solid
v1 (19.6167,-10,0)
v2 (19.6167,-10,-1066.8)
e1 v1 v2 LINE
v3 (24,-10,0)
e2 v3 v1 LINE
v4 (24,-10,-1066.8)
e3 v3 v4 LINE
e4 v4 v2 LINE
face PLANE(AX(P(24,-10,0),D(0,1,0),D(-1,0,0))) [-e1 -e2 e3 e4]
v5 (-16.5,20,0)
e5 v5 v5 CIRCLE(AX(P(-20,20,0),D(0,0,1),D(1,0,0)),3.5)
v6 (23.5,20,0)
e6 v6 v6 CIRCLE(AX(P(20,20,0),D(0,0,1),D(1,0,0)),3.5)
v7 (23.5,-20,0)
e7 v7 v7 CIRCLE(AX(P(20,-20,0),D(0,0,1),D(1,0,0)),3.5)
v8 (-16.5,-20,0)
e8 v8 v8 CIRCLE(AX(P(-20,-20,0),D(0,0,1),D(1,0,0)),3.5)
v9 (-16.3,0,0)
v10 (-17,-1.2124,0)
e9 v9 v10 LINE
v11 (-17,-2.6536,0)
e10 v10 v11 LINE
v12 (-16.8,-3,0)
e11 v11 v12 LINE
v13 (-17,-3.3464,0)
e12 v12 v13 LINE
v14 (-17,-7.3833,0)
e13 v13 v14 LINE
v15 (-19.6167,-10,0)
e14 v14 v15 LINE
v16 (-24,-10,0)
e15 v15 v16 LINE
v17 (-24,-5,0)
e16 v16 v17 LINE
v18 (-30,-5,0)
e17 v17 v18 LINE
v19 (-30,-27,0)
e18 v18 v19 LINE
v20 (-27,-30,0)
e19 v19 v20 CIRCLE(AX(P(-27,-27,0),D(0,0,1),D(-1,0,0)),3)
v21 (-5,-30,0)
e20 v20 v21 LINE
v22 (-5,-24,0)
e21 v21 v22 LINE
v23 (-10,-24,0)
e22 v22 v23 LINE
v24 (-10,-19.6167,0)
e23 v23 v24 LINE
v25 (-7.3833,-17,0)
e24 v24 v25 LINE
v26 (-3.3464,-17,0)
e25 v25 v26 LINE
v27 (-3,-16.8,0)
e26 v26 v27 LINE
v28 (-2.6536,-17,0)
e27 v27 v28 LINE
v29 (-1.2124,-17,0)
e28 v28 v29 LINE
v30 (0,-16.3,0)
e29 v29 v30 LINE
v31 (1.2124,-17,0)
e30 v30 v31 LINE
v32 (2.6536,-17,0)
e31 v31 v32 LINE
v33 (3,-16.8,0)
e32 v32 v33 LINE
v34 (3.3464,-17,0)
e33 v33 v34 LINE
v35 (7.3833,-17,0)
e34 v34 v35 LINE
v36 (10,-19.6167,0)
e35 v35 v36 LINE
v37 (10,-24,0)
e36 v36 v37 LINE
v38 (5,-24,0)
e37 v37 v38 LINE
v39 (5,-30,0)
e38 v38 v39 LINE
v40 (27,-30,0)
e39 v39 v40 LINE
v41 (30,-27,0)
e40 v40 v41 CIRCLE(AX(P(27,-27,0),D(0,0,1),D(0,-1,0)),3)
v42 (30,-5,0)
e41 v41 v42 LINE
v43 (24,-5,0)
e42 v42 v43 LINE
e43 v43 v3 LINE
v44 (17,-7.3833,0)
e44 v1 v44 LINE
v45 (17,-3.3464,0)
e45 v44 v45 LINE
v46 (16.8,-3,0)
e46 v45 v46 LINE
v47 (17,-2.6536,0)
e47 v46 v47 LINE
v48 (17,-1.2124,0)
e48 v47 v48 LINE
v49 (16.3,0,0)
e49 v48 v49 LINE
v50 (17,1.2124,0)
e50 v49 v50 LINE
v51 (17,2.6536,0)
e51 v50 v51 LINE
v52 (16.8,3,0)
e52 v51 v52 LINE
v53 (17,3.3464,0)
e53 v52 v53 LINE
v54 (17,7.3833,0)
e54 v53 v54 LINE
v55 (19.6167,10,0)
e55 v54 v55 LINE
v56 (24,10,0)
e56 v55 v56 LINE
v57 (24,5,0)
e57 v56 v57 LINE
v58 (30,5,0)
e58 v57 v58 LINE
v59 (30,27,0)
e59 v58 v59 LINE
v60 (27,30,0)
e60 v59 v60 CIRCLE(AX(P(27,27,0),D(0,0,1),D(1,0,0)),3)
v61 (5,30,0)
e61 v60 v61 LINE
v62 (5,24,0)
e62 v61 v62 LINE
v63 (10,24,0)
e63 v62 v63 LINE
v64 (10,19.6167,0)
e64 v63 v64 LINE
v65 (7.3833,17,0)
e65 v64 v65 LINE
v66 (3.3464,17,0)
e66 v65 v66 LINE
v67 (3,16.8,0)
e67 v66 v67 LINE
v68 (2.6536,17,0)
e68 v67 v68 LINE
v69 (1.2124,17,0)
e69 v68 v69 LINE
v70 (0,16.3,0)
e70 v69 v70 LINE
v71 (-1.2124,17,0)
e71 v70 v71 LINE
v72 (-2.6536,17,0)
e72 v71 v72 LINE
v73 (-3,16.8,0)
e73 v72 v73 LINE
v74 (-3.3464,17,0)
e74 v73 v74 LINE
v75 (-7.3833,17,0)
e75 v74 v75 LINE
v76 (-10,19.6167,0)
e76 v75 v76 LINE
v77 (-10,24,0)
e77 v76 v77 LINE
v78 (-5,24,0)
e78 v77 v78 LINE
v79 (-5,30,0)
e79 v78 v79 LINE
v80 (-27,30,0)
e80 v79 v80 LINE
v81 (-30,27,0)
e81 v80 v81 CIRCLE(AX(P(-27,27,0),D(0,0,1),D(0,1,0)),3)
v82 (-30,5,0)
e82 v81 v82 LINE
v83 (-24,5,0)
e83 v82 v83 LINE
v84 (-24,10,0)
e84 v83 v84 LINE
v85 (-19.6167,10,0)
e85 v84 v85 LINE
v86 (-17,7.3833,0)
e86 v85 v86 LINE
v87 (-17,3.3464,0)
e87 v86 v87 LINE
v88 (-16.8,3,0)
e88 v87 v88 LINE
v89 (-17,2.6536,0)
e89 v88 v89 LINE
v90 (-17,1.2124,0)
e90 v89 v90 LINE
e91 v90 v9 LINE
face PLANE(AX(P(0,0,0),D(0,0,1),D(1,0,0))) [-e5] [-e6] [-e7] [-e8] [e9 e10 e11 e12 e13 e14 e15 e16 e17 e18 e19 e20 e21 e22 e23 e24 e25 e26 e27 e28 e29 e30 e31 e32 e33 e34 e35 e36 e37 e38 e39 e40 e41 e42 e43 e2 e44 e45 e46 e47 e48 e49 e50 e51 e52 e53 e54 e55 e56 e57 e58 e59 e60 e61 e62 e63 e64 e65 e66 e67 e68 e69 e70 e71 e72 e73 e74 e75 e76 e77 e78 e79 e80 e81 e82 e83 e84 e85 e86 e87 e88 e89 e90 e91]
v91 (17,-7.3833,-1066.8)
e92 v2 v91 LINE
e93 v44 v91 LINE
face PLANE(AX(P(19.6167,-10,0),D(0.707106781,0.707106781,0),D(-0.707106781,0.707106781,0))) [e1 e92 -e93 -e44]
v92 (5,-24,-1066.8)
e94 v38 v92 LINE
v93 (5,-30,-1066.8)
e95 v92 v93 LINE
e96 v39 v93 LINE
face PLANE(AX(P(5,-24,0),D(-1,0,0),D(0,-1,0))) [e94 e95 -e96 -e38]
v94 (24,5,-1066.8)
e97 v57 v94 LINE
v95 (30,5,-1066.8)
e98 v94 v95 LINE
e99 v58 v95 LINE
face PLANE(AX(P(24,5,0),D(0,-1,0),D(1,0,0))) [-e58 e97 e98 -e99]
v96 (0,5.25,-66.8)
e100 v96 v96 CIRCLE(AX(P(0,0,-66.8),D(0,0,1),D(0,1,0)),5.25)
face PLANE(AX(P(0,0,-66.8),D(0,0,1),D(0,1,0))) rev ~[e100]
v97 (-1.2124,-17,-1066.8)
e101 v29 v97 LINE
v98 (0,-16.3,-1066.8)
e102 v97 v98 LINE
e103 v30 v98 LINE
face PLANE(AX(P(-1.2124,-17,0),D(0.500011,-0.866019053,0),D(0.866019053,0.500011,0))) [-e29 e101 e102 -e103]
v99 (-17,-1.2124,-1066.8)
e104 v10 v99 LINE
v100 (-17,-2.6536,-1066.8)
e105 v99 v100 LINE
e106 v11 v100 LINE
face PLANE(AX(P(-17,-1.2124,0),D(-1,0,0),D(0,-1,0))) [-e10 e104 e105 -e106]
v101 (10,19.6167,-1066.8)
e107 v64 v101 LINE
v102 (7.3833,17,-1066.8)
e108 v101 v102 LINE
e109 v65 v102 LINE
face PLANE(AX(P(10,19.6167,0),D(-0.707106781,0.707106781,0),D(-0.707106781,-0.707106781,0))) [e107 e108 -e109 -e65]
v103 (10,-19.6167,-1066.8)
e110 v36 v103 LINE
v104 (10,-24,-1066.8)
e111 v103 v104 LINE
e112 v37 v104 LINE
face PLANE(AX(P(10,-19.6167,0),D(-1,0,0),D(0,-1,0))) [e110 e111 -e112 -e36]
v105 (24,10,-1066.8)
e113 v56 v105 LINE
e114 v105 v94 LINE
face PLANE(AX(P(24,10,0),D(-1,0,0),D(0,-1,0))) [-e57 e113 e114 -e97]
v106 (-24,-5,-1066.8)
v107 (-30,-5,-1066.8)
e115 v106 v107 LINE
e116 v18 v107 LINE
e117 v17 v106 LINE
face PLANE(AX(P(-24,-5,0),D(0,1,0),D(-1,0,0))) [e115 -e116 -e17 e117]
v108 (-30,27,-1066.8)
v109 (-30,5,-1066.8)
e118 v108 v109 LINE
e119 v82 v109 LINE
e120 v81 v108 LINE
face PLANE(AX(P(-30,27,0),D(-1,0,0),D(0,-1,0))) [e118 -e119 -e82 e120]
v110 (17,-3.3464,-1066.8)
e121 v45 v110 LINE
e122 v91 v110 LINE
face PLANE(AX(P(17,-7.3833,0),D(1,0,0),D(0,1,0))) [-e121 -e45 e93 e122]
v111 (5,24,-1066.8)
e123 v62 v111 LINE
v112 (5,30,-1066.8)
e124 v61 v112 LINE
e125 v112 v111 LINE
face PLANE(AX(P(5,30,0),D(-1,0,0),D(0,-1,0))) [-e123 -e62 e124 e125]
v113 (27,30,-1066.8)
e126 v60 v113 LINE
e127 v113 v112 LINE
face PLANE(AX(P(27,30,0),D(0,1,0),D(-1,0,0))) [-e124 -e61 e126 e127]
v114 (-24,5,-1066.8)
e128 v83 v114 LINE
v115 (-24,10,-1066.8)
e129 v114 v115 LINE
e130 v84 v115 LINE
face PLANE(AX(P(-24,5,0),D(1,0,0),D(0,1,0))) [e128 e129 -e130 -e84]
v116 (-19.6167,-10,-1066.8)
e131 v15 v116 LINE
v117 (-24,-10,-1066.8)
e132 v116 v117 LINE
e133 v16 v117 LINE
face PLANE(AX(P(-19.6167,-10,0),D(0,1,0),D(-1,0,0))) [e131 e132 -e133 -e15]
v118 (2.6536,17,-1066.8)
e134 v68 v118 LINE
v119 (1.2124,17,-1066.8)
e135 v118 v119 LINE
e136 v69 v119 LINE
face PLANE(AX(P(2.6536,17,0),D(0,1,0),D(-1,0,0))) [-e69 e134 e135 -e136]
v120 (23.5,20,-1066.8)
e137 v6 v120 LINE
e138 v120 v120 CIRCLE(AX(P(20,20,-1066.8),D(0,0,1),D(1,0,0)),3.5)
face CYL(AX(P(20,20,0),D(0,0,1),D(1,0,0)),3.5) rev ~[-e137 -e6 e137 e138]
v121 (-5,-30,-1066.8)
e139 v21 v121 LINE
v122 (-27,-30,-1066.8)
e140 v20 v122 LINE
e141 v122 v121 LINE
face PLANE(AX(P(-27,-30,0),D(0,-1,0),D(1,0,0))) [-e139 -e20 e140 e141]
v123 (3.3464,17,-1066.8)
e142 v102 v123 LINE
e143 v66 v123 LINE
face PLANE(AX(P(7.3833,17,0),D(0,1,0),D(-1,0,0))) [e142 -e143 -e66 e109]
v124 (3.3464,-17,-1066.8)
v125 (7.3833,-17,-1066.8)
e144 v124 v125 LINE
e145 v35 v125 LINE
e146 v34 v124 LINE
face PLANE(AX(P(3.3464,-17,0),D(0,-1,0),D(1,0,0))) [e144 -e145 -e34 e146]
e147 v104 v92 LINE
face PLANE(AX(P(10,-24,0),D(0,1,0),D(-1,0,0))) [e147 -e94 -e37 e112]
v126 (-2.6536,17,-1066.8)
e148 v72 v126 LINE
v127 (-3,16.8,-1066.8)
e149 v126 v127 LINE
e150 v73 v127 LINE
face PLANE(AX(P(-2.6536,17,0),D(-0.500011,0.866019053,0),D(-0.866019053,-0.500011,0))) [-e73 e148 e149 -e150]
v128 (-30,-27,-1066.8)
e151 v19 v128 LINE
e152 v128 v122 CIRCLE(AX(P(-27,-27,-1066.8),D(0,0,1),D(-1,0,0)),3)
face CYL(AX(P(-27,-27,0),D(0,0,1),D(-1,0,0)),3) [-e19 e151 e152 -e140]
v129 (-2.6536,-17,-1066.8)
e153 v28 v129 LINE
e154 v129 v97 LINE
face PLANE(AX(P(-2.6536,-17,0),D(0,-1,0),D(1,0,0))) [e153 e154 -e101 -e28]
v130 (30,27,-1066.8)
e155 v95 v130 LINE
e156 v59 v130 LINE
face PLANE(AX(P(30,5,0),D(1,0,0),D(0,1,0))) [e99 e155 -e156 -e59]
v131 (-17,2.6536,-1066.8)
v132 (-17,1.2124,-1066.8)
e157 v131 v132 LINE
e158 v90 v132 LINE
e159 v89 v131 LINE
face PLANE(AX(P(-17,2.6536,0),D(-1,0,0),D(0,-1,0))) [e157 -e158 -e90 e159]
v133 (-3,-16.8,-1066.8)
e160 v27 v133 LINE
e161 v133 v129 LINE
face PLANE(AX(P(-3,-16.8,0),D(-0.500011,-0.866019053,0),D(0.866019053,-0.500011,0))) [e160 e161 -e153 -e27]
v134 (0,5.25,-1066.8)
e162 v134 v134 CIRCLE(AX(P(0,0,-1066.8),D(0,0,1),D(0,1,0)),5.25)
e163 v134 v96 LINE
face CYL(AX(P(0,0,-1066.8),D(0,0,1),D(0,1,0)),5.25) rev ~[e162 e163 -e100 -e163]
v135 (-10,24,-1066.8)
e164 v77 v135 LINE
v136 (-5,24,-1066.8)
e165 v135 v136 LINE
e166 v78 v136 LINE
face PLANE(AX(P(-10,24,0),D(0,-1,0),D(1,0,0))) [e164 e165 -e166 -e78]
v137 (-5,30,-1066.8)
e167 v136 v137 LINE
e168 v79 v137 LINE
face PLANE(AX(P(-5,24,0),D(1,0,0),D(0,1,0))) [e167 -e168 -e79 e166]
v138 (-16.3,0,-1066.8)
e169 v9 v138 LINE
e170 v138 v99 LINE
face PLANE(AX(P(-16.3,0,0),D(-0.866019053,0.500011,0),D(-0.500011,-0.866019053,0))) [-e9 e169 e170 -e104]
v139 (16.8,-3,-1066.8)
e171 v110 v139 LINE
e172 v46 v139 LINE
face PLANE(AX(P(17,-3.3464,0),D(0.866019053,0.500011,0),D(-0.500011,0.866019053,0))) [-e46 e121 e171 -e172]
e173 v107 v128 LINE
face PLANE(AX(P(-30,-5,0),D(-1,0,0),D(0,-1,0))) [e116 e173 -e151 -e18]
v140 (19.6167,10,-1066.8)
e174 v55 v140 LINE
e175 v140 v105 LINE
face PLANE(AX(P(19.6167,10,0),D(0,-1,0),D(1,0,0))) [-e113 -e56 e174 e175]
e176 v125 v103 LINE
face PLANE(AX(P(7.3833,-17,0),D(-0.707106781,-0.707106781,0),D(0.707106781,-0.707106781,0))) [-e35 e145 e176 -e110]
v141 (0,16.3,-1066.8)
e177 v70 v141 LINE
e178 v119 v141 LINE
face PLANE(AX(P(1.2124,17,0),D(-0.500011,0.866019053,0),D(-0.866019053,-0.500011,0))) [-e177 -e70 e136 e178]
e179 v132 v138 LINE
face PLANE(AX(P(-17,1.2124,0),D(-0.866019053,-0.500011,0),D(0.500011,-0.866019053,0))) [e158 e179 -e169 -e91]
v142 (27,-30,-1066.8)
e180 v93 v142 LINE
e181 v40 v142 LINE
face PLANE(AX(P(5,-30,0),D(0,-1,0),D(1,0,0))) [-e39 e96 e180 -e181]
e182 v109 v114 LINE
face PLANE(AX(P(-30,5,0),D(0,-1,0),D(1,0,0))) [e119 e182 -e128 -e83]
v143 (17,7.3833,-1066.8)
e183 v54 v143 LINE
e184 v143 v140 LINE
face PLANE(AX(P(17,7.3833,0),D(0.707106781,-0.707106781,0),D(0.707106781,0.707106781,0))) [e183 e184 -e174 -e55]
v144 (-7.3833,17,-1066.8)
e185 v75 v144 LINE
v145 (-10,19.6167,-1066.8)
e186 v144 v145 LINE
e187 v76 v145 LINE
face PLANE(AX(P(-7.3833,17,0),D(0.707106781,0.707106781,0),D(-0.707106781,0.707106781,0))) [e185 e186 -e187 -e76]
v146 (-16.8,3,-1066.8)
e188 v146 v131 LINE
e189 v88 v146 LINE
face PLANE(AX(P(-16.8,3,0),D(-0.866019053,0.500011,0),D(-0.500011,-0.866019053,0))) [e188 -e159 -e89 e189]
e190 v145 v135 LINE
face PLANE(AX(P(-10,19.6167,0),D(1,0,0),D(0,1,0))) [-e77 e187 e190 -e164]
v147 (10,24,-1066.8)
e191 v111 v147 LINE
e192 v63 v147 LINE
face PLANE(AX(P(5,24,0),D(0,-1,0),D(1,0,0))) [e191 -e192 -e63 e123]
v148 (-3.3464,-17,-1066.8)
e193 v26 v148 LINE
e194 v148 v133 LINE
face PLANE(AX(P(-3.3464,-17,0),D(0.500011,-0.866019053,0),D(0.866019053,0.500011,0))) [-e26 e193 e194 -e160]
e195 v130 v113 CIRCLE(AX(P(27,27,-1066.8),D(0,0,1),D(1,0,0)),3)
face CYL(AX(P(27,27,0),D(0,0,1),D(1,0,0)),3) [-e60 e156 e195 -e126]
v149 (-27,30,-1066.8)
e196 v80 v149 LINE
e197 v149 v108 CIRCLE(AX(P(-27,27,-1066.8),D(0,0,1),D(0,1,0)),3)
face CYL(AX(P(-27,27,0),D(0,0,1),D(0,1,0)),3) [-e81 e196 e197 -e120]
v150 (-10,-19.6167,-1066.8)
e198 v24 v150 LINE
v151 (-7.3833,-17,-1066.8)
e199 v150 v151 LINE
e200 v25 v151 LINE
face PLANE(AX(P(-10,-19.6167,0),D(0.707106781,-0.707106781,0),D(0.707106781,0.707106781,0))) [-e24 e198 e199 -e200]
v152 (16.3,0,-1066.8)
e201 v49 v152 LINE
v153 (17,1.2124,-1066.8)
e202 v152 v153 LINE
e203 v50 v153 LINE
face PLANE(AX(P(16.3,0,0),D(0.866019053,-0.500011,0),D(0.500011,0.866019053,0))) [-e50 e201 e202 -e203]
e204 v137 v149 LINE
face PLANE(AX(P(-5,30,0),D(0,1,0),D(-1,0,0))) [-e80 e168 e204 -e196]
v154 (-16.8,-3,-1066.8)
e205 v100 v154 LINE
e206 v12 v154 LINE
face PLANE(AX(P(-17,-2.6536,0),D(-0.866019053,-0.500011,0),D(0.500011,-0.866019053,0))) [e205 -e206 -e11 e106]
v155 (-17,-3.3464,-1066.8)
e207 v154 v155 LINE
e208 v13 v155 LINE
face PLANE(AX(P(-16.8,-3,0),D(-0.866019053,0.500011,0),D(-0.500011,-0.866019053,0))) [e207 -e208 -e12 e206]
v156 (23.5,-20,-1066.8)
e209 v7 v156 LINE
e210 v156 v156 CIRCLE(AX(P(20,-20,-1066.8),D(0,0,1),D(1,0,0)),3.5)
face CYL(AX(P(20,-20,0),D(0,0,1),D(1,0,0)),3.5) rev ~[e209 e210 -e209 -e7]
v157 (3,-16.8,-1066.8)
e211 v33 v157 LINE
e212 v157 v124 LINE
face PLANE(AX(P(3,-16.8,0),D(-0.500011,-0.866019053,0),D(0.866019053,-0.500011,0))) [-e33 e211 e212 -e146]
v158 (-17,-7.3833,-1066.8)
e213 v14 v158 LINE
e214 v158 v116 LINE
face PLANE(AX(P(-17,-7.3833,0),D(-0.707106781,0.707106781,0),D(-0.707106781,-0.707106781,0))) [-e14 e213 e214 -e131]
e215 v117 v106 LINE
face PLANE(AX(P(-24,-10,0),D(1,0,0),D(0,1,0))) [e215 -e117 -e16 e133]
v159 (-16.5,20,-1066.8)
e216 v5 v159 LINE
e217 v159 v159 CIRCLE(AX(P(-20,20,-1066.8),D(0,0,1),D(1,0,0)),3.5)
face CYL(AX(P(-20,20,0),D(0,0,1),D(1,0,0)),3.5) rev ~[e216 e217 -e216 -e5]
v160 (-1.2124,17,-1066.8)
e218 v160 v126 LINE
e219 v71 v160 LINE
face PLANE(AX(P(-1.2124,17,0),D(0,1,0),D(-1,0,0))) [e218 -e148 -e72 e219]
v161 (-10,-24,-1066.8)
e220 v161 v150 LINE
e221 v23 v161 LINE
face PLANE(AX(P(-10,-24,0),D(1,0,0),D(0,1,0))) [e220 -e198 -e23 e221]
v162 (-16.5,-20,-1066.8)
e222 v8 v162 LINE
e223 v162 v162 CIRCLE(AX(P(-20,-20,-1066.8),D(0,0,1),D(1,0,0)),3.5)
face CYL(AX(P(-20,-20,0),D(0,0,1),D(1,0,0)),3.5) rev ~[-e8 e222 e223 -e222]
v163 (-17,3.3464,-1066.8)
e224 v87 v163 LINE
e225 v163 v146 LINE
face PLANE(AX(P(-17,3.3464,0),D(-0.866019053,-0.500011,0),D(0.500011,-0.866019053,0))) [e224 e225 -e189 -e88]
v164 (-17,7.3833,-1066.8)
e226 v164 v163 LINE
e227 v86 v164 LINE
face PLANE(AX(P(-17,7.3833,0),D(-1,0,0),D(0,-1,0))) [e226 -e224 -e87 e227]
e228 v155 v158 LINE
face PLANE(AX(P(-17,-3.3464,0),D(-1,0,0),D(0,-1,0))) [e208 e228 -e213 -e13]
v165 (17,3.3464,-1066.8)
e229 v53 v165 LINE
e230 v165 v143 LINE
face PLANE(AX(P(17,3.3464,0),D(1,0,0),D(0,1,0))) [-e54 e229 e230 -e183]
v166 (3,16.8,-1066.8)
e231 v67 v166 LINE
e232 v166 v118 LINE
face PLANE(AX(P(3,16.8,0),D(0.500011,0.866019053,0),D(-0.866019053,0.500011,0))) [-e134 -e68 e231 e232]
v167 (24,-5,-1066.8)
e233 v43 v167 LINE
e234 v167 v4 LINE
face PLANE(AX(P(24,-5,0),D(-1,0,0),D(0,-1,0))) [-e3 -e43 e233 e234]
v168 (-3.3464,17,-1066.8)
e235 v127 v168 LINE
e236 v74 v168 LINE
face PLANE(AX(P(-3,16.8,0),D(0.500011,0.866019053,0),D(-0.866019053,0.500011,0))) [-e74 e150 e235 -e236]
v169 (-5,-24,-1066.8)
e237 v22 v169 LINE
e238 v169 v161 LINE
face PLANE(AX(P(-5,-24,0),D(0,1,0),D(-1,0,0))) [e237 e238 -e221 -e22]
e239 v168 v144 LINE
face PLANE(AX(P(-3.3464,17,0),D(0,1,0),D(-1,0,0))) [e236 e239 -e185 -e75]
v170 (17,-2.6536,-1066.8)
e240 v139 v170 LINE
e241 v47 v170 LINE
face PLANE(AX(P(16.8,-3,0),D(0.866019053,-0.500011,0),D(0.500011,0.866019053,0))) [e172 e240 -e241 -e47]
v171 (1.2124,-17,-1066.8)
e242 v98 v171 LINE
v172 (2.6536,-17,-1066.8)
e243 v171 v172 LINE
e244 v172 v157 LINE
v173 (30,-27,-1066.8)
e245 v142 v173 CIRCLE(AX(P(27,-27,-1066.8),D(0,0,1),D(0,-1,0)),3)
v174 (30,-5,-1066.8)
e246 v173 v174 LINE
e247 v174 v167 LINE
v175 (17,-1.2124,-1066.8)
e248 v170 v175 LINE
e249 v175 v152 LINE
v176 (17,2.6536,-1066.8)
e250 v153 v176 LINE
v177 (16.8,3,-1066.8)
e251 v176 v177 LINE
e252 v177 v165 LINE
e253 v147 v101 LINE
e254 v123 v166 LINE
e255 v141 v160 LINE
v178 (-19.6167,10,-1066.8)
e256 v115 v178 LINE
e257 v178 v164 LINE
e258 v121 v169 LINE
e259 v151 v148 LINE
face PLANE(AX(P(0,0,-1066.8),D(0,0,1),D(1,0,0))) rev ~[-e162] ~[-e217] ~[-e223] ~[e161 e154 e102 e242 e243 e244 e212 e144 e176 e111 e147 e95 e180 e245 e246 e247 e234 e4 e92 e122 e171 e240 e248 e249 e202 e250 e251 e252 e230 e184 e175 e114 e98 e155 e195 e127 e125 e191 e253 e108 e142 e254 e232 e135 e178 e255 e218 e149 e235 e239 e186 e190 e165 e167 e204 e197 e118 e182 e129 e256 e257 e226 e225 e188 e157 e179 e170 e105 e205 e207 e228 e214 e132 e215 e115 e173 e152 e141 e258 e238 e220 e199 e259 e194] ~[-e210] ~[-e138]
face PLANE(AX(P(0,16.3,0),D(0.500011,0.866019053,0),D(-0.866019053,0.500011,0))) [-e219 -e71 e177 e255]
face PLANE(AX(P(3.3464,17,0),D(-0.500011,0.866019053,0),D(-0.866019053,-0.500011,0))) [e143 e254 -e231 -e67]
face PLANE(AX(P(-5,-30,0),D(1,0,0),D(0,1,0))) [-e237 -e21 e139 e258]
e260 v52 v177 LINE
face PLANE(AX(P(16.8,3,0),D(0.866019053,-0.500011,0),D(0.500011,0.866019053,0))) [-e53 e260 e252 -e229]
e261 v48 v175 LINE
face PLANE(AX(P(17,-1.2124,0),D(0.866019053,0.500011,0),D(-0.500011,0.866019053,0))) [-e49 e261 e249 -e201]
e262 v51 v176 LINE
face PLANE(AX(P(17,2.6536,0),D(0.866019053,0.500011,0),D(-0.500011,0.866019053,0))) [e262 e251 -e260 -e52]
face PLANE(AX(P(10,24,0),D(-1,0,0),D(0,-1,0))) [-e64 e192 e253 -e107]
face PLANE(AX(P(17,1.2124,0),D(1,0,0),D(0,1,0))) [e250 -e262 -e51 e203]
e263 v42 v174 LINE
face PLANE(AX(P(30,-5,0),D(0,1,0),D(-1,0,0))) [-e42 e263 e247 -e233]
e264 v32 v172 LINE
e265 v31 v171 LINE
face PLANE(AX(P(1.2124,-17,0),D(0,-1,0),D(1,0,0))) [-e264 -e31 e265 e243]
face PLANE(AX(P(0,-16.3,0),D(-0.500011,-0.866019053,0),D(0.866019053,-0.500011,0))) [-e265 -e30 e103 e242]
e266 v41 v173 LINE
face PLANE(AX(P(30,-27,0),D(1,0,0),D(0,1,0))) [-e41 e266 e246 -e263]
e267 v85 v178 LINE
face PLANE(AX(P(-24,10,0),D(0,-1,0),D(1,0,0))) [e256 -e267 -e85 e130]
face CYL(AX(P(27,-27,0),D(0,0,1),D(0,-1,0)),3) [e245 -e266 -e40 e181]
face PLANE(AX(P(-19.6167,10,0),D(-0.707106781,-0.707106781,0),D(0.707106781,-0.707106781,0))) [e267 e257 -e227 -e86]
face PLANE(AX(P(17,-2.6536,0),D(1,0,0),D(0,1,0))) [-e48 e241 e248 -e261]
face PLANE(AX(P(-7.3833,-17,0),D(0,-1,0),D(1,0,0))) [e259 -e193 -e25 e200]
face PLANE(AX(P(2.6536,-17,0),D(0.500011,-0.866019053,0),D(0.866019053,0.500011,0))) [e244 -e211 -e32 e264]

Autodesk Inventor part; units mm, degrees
sketch "Sketch_60" plane through (0, 0, 0) normal (0, 0, 1) x (1, 0, 0)
  arc A0 (-30, -27) -> (-27, -30) centre (-27, -27) ccw
  line L0 (-27, -30) -> (-5, -30)
  line L1 (-5, -30) -> (-5, -24)
  line L2 (-5, -24) -> (-10, -24)
  line L3 (-10, -24) -> (-10, -19.6167)
  line L4 (-10, -19.6167) -> (-7.3833, -17)
  line L5 (-7.3833, -17) -> (-3.3464, -17)
  line L6 (-3.3464, -17) -> (-3, -16.8)
  line L7 (-3, -16.8) -> (-2.6536, -17)
  line L8 (-2.6536, -17) -> (-1.2124, -17)
  line L9 (-1.2124, -17) -> (0, -16.3)
  line L10 (0, -16.3) -> (1.2124, -17)
  line L11 (1.2124, -17) -> (2.6536, -17)
  line L12 (2.6536, -17) -> (3, -16.8)
  line L13 (3, -16.8) -> (3.3464, -17)
  line L14 (3.3464, -17) -> (7.3833, -17)
  line L15 (7.3833, -17) -> (10, -19.6167)
  line L16 (10, -19.6167) -> (10, -24)
  line L17 (10, -24) -> (5, -24)
  line L18 (5, -24) -> (5, -30)
  line L19 (5, -30) -> (27, -30)
  arc A1 (27, -30) -> (30, -27) centre (27, -27) ccw
  line L20 (30, -27) -> (30, -5)
  line L21 (30, -5) -> (24, -5)
  line L22 (24, -5) -> (24, -10)
  line L23 (24, -10) -> (19.6167, -10)
  line L24 (19.6167, -10) -> (17, -7.3833)
  line L25 (17, -7.3833) -> (17, -3.3464)
  line L26 (17, -3.3464) -> (16.8, -3)
  line L27 (16.8, -3) -> (17, -2.6536)
  line L28 (17, -2.6536) -> (17, -1.2124)
  line L29 (17, -1.2124) -> (16.3, 0)
  line L30 (16.3, 0) -> (17, 1.2124)
  line L31 (17, 1.2124) -> (17, 2.6536)
  line L32 (17, 2.6536) -> (16.8, 3)
  line L33 (16.8, 3) -> (17, 3.3464)
  line L34 (17, 3.3464) -> (17, 7.3833)
  line L35 (17, 7.3833) -> (19.6167, 10)
  line L36 (19.6167, 10) -> (24, 10)
  line L37 (24, 10) -> (24, 5)
  line L38 (24, 5) -> (30, 5)
  line L39 (30, 5) -> (30, 27)
  arc A2 (30, 27) -> (27, 30) centre (27, 27) ccw
  line L40 (27, 30) -> (5, 30)
  line L41 (5, 30) -> (5, 24)
  line L42 (5, 24) -> (10, 24)
  line L43 (10, 24) -> (10, 19.6167)
  line L44 (10, 19.6167) -> (7.3833, 17)
  line L45 (7.3833, 17) -> (3.3464, 17)
  line L46 (3.3464, 17) -> (3, 16.8)
  line L47 (3, 16.8) -> (2.6536, 17)
  line L48 (2.6536, 17) -> (1.2124, 17)
  line L49 (1.2124, 17) -> (0, 16.3)
  line L50 (0, 16.3) -> (-1.2124, 17)
  line L51 (-1.2124, 17) -> (-2.6536, 17)
  line L52 (-2.6536, 17) -> (-3, 16.8)
  line L53 (-3, 16.8) -> (-3.3464, 17)
  line L54 (-3.3464, 17) -> (-7.3833, 17)
  line L55 (-7.3833, 17) -> (-10, 19.6167)
  line L56 (-10, 19.6167) -> (-10, 24)
  line L57 (-10, 24) -> (-5, 24)
  line L58 (-5, 24) -> (-5, 30)
  line L59 (-5, 30) -> (-27, 30)
  arc A3 (-27, 30) -> (-30, 27) centre (-27, 27) ccw
  line L60 (-30, 27) -> (-30, 5)
  line L61 (-30, 5) -> (-24, 5)
  line L62 (-24, 5) -> (-24, 10)
  line L63 (-24, 10) -> (-19.6167, 10)
  line L64 (-19.6167, 10) -> (-17, 7.3833)
  line L65 (-17, 7.3833) -> (-17, 3.3464)
  line L66 (-17, 3.3464) -> (-16.8, 3)
  line L67 (-16.8, 3) -> (-17, 2.6536)
  line L68 (-17, 2.6536) -> (-17, 1.2124)
  line L69 (-17, 1.2124) -> (-16.3, 0)
  line L70 (-16.3, 0) -> (-17, -1.2124)
  line L71 (-17, -1.2124) -> (-17, -2.6536)
  line L72 (-17, -2.6536) -> (-16.8, -3)
  line L73 (-16.8, -3) -> (-17, -3.3464)
  line L74 (-17, -3.3464) -> (-17, -7.3833)
  line L75 (-17, -7.3833) -> (-19.6167, -10)
  line L76 (-19.6167, -10) -> (-24, -10)
  line L77 (-24, -10) -> (-24, -5)
  line L78 (-24, -5) -> (-30, -5)
  line L79 (-30, -5) -> (-30, -27)
  circle A4 centre (20, 20) radius 3.5
  circle A5 centre (20, -20) radius 3.5
  circle A6 centre (-20, 20) radius 3.5
  circle A7 centre (-20, -20) radius 3.5
extrude "Extrusion1" add sketch "Sketch_60" against normal blind 1066.8
sketch "Sketch2" plane through (0, 0, -1066.8) normal (0, 0, -1) x (-1, 0, 0)
  point P0 (0, 0)
hole "Hole1" at (0, 0, -1066.8) direction (0, 0, 1) diameter 10.5 depth 1000
ref_plane "C1_XY" through (0, 0, 0) normal (0, 0, 1) x (1, 0, 0)
ref_plane "C1_YZ" through (0, 0, 0) normal (1, 0, 0) x (0, 1, 0)
ref_plane "C1_ZX" through (0, 0, 0) normal (0, 1, 0) x (0, 0, 1)
ref_plane "to_frame_cap1_XY" through (0, 0, 0) normal (0, 0, 1) x (1, 0, 0)
ref_plane "to_frame_cap1_YZ" through (0, 0, 0) normal (1, 0, 0) x (0, 1, 0)
ref_plane "to_frame_cap1_ZX" through (0, 0, 0) normal (0, 1, 0) x (0, 0, 1)
ref_plane "to_frame_cap2_XY" through (0, 0, -1000) normal (0, 0, -1) x (1, 0, 0)
ref_plane "to_frame_cap2_YZ" through (0, 0, -1000) normal (1, 0, 0) x (0, -1, 0)
ref_plane "to_frame_cap2_ZX" through (0, 0, -1000) normal (0, -1, 0) x (0, 0, -1)
properties part number "6060-3.5"
